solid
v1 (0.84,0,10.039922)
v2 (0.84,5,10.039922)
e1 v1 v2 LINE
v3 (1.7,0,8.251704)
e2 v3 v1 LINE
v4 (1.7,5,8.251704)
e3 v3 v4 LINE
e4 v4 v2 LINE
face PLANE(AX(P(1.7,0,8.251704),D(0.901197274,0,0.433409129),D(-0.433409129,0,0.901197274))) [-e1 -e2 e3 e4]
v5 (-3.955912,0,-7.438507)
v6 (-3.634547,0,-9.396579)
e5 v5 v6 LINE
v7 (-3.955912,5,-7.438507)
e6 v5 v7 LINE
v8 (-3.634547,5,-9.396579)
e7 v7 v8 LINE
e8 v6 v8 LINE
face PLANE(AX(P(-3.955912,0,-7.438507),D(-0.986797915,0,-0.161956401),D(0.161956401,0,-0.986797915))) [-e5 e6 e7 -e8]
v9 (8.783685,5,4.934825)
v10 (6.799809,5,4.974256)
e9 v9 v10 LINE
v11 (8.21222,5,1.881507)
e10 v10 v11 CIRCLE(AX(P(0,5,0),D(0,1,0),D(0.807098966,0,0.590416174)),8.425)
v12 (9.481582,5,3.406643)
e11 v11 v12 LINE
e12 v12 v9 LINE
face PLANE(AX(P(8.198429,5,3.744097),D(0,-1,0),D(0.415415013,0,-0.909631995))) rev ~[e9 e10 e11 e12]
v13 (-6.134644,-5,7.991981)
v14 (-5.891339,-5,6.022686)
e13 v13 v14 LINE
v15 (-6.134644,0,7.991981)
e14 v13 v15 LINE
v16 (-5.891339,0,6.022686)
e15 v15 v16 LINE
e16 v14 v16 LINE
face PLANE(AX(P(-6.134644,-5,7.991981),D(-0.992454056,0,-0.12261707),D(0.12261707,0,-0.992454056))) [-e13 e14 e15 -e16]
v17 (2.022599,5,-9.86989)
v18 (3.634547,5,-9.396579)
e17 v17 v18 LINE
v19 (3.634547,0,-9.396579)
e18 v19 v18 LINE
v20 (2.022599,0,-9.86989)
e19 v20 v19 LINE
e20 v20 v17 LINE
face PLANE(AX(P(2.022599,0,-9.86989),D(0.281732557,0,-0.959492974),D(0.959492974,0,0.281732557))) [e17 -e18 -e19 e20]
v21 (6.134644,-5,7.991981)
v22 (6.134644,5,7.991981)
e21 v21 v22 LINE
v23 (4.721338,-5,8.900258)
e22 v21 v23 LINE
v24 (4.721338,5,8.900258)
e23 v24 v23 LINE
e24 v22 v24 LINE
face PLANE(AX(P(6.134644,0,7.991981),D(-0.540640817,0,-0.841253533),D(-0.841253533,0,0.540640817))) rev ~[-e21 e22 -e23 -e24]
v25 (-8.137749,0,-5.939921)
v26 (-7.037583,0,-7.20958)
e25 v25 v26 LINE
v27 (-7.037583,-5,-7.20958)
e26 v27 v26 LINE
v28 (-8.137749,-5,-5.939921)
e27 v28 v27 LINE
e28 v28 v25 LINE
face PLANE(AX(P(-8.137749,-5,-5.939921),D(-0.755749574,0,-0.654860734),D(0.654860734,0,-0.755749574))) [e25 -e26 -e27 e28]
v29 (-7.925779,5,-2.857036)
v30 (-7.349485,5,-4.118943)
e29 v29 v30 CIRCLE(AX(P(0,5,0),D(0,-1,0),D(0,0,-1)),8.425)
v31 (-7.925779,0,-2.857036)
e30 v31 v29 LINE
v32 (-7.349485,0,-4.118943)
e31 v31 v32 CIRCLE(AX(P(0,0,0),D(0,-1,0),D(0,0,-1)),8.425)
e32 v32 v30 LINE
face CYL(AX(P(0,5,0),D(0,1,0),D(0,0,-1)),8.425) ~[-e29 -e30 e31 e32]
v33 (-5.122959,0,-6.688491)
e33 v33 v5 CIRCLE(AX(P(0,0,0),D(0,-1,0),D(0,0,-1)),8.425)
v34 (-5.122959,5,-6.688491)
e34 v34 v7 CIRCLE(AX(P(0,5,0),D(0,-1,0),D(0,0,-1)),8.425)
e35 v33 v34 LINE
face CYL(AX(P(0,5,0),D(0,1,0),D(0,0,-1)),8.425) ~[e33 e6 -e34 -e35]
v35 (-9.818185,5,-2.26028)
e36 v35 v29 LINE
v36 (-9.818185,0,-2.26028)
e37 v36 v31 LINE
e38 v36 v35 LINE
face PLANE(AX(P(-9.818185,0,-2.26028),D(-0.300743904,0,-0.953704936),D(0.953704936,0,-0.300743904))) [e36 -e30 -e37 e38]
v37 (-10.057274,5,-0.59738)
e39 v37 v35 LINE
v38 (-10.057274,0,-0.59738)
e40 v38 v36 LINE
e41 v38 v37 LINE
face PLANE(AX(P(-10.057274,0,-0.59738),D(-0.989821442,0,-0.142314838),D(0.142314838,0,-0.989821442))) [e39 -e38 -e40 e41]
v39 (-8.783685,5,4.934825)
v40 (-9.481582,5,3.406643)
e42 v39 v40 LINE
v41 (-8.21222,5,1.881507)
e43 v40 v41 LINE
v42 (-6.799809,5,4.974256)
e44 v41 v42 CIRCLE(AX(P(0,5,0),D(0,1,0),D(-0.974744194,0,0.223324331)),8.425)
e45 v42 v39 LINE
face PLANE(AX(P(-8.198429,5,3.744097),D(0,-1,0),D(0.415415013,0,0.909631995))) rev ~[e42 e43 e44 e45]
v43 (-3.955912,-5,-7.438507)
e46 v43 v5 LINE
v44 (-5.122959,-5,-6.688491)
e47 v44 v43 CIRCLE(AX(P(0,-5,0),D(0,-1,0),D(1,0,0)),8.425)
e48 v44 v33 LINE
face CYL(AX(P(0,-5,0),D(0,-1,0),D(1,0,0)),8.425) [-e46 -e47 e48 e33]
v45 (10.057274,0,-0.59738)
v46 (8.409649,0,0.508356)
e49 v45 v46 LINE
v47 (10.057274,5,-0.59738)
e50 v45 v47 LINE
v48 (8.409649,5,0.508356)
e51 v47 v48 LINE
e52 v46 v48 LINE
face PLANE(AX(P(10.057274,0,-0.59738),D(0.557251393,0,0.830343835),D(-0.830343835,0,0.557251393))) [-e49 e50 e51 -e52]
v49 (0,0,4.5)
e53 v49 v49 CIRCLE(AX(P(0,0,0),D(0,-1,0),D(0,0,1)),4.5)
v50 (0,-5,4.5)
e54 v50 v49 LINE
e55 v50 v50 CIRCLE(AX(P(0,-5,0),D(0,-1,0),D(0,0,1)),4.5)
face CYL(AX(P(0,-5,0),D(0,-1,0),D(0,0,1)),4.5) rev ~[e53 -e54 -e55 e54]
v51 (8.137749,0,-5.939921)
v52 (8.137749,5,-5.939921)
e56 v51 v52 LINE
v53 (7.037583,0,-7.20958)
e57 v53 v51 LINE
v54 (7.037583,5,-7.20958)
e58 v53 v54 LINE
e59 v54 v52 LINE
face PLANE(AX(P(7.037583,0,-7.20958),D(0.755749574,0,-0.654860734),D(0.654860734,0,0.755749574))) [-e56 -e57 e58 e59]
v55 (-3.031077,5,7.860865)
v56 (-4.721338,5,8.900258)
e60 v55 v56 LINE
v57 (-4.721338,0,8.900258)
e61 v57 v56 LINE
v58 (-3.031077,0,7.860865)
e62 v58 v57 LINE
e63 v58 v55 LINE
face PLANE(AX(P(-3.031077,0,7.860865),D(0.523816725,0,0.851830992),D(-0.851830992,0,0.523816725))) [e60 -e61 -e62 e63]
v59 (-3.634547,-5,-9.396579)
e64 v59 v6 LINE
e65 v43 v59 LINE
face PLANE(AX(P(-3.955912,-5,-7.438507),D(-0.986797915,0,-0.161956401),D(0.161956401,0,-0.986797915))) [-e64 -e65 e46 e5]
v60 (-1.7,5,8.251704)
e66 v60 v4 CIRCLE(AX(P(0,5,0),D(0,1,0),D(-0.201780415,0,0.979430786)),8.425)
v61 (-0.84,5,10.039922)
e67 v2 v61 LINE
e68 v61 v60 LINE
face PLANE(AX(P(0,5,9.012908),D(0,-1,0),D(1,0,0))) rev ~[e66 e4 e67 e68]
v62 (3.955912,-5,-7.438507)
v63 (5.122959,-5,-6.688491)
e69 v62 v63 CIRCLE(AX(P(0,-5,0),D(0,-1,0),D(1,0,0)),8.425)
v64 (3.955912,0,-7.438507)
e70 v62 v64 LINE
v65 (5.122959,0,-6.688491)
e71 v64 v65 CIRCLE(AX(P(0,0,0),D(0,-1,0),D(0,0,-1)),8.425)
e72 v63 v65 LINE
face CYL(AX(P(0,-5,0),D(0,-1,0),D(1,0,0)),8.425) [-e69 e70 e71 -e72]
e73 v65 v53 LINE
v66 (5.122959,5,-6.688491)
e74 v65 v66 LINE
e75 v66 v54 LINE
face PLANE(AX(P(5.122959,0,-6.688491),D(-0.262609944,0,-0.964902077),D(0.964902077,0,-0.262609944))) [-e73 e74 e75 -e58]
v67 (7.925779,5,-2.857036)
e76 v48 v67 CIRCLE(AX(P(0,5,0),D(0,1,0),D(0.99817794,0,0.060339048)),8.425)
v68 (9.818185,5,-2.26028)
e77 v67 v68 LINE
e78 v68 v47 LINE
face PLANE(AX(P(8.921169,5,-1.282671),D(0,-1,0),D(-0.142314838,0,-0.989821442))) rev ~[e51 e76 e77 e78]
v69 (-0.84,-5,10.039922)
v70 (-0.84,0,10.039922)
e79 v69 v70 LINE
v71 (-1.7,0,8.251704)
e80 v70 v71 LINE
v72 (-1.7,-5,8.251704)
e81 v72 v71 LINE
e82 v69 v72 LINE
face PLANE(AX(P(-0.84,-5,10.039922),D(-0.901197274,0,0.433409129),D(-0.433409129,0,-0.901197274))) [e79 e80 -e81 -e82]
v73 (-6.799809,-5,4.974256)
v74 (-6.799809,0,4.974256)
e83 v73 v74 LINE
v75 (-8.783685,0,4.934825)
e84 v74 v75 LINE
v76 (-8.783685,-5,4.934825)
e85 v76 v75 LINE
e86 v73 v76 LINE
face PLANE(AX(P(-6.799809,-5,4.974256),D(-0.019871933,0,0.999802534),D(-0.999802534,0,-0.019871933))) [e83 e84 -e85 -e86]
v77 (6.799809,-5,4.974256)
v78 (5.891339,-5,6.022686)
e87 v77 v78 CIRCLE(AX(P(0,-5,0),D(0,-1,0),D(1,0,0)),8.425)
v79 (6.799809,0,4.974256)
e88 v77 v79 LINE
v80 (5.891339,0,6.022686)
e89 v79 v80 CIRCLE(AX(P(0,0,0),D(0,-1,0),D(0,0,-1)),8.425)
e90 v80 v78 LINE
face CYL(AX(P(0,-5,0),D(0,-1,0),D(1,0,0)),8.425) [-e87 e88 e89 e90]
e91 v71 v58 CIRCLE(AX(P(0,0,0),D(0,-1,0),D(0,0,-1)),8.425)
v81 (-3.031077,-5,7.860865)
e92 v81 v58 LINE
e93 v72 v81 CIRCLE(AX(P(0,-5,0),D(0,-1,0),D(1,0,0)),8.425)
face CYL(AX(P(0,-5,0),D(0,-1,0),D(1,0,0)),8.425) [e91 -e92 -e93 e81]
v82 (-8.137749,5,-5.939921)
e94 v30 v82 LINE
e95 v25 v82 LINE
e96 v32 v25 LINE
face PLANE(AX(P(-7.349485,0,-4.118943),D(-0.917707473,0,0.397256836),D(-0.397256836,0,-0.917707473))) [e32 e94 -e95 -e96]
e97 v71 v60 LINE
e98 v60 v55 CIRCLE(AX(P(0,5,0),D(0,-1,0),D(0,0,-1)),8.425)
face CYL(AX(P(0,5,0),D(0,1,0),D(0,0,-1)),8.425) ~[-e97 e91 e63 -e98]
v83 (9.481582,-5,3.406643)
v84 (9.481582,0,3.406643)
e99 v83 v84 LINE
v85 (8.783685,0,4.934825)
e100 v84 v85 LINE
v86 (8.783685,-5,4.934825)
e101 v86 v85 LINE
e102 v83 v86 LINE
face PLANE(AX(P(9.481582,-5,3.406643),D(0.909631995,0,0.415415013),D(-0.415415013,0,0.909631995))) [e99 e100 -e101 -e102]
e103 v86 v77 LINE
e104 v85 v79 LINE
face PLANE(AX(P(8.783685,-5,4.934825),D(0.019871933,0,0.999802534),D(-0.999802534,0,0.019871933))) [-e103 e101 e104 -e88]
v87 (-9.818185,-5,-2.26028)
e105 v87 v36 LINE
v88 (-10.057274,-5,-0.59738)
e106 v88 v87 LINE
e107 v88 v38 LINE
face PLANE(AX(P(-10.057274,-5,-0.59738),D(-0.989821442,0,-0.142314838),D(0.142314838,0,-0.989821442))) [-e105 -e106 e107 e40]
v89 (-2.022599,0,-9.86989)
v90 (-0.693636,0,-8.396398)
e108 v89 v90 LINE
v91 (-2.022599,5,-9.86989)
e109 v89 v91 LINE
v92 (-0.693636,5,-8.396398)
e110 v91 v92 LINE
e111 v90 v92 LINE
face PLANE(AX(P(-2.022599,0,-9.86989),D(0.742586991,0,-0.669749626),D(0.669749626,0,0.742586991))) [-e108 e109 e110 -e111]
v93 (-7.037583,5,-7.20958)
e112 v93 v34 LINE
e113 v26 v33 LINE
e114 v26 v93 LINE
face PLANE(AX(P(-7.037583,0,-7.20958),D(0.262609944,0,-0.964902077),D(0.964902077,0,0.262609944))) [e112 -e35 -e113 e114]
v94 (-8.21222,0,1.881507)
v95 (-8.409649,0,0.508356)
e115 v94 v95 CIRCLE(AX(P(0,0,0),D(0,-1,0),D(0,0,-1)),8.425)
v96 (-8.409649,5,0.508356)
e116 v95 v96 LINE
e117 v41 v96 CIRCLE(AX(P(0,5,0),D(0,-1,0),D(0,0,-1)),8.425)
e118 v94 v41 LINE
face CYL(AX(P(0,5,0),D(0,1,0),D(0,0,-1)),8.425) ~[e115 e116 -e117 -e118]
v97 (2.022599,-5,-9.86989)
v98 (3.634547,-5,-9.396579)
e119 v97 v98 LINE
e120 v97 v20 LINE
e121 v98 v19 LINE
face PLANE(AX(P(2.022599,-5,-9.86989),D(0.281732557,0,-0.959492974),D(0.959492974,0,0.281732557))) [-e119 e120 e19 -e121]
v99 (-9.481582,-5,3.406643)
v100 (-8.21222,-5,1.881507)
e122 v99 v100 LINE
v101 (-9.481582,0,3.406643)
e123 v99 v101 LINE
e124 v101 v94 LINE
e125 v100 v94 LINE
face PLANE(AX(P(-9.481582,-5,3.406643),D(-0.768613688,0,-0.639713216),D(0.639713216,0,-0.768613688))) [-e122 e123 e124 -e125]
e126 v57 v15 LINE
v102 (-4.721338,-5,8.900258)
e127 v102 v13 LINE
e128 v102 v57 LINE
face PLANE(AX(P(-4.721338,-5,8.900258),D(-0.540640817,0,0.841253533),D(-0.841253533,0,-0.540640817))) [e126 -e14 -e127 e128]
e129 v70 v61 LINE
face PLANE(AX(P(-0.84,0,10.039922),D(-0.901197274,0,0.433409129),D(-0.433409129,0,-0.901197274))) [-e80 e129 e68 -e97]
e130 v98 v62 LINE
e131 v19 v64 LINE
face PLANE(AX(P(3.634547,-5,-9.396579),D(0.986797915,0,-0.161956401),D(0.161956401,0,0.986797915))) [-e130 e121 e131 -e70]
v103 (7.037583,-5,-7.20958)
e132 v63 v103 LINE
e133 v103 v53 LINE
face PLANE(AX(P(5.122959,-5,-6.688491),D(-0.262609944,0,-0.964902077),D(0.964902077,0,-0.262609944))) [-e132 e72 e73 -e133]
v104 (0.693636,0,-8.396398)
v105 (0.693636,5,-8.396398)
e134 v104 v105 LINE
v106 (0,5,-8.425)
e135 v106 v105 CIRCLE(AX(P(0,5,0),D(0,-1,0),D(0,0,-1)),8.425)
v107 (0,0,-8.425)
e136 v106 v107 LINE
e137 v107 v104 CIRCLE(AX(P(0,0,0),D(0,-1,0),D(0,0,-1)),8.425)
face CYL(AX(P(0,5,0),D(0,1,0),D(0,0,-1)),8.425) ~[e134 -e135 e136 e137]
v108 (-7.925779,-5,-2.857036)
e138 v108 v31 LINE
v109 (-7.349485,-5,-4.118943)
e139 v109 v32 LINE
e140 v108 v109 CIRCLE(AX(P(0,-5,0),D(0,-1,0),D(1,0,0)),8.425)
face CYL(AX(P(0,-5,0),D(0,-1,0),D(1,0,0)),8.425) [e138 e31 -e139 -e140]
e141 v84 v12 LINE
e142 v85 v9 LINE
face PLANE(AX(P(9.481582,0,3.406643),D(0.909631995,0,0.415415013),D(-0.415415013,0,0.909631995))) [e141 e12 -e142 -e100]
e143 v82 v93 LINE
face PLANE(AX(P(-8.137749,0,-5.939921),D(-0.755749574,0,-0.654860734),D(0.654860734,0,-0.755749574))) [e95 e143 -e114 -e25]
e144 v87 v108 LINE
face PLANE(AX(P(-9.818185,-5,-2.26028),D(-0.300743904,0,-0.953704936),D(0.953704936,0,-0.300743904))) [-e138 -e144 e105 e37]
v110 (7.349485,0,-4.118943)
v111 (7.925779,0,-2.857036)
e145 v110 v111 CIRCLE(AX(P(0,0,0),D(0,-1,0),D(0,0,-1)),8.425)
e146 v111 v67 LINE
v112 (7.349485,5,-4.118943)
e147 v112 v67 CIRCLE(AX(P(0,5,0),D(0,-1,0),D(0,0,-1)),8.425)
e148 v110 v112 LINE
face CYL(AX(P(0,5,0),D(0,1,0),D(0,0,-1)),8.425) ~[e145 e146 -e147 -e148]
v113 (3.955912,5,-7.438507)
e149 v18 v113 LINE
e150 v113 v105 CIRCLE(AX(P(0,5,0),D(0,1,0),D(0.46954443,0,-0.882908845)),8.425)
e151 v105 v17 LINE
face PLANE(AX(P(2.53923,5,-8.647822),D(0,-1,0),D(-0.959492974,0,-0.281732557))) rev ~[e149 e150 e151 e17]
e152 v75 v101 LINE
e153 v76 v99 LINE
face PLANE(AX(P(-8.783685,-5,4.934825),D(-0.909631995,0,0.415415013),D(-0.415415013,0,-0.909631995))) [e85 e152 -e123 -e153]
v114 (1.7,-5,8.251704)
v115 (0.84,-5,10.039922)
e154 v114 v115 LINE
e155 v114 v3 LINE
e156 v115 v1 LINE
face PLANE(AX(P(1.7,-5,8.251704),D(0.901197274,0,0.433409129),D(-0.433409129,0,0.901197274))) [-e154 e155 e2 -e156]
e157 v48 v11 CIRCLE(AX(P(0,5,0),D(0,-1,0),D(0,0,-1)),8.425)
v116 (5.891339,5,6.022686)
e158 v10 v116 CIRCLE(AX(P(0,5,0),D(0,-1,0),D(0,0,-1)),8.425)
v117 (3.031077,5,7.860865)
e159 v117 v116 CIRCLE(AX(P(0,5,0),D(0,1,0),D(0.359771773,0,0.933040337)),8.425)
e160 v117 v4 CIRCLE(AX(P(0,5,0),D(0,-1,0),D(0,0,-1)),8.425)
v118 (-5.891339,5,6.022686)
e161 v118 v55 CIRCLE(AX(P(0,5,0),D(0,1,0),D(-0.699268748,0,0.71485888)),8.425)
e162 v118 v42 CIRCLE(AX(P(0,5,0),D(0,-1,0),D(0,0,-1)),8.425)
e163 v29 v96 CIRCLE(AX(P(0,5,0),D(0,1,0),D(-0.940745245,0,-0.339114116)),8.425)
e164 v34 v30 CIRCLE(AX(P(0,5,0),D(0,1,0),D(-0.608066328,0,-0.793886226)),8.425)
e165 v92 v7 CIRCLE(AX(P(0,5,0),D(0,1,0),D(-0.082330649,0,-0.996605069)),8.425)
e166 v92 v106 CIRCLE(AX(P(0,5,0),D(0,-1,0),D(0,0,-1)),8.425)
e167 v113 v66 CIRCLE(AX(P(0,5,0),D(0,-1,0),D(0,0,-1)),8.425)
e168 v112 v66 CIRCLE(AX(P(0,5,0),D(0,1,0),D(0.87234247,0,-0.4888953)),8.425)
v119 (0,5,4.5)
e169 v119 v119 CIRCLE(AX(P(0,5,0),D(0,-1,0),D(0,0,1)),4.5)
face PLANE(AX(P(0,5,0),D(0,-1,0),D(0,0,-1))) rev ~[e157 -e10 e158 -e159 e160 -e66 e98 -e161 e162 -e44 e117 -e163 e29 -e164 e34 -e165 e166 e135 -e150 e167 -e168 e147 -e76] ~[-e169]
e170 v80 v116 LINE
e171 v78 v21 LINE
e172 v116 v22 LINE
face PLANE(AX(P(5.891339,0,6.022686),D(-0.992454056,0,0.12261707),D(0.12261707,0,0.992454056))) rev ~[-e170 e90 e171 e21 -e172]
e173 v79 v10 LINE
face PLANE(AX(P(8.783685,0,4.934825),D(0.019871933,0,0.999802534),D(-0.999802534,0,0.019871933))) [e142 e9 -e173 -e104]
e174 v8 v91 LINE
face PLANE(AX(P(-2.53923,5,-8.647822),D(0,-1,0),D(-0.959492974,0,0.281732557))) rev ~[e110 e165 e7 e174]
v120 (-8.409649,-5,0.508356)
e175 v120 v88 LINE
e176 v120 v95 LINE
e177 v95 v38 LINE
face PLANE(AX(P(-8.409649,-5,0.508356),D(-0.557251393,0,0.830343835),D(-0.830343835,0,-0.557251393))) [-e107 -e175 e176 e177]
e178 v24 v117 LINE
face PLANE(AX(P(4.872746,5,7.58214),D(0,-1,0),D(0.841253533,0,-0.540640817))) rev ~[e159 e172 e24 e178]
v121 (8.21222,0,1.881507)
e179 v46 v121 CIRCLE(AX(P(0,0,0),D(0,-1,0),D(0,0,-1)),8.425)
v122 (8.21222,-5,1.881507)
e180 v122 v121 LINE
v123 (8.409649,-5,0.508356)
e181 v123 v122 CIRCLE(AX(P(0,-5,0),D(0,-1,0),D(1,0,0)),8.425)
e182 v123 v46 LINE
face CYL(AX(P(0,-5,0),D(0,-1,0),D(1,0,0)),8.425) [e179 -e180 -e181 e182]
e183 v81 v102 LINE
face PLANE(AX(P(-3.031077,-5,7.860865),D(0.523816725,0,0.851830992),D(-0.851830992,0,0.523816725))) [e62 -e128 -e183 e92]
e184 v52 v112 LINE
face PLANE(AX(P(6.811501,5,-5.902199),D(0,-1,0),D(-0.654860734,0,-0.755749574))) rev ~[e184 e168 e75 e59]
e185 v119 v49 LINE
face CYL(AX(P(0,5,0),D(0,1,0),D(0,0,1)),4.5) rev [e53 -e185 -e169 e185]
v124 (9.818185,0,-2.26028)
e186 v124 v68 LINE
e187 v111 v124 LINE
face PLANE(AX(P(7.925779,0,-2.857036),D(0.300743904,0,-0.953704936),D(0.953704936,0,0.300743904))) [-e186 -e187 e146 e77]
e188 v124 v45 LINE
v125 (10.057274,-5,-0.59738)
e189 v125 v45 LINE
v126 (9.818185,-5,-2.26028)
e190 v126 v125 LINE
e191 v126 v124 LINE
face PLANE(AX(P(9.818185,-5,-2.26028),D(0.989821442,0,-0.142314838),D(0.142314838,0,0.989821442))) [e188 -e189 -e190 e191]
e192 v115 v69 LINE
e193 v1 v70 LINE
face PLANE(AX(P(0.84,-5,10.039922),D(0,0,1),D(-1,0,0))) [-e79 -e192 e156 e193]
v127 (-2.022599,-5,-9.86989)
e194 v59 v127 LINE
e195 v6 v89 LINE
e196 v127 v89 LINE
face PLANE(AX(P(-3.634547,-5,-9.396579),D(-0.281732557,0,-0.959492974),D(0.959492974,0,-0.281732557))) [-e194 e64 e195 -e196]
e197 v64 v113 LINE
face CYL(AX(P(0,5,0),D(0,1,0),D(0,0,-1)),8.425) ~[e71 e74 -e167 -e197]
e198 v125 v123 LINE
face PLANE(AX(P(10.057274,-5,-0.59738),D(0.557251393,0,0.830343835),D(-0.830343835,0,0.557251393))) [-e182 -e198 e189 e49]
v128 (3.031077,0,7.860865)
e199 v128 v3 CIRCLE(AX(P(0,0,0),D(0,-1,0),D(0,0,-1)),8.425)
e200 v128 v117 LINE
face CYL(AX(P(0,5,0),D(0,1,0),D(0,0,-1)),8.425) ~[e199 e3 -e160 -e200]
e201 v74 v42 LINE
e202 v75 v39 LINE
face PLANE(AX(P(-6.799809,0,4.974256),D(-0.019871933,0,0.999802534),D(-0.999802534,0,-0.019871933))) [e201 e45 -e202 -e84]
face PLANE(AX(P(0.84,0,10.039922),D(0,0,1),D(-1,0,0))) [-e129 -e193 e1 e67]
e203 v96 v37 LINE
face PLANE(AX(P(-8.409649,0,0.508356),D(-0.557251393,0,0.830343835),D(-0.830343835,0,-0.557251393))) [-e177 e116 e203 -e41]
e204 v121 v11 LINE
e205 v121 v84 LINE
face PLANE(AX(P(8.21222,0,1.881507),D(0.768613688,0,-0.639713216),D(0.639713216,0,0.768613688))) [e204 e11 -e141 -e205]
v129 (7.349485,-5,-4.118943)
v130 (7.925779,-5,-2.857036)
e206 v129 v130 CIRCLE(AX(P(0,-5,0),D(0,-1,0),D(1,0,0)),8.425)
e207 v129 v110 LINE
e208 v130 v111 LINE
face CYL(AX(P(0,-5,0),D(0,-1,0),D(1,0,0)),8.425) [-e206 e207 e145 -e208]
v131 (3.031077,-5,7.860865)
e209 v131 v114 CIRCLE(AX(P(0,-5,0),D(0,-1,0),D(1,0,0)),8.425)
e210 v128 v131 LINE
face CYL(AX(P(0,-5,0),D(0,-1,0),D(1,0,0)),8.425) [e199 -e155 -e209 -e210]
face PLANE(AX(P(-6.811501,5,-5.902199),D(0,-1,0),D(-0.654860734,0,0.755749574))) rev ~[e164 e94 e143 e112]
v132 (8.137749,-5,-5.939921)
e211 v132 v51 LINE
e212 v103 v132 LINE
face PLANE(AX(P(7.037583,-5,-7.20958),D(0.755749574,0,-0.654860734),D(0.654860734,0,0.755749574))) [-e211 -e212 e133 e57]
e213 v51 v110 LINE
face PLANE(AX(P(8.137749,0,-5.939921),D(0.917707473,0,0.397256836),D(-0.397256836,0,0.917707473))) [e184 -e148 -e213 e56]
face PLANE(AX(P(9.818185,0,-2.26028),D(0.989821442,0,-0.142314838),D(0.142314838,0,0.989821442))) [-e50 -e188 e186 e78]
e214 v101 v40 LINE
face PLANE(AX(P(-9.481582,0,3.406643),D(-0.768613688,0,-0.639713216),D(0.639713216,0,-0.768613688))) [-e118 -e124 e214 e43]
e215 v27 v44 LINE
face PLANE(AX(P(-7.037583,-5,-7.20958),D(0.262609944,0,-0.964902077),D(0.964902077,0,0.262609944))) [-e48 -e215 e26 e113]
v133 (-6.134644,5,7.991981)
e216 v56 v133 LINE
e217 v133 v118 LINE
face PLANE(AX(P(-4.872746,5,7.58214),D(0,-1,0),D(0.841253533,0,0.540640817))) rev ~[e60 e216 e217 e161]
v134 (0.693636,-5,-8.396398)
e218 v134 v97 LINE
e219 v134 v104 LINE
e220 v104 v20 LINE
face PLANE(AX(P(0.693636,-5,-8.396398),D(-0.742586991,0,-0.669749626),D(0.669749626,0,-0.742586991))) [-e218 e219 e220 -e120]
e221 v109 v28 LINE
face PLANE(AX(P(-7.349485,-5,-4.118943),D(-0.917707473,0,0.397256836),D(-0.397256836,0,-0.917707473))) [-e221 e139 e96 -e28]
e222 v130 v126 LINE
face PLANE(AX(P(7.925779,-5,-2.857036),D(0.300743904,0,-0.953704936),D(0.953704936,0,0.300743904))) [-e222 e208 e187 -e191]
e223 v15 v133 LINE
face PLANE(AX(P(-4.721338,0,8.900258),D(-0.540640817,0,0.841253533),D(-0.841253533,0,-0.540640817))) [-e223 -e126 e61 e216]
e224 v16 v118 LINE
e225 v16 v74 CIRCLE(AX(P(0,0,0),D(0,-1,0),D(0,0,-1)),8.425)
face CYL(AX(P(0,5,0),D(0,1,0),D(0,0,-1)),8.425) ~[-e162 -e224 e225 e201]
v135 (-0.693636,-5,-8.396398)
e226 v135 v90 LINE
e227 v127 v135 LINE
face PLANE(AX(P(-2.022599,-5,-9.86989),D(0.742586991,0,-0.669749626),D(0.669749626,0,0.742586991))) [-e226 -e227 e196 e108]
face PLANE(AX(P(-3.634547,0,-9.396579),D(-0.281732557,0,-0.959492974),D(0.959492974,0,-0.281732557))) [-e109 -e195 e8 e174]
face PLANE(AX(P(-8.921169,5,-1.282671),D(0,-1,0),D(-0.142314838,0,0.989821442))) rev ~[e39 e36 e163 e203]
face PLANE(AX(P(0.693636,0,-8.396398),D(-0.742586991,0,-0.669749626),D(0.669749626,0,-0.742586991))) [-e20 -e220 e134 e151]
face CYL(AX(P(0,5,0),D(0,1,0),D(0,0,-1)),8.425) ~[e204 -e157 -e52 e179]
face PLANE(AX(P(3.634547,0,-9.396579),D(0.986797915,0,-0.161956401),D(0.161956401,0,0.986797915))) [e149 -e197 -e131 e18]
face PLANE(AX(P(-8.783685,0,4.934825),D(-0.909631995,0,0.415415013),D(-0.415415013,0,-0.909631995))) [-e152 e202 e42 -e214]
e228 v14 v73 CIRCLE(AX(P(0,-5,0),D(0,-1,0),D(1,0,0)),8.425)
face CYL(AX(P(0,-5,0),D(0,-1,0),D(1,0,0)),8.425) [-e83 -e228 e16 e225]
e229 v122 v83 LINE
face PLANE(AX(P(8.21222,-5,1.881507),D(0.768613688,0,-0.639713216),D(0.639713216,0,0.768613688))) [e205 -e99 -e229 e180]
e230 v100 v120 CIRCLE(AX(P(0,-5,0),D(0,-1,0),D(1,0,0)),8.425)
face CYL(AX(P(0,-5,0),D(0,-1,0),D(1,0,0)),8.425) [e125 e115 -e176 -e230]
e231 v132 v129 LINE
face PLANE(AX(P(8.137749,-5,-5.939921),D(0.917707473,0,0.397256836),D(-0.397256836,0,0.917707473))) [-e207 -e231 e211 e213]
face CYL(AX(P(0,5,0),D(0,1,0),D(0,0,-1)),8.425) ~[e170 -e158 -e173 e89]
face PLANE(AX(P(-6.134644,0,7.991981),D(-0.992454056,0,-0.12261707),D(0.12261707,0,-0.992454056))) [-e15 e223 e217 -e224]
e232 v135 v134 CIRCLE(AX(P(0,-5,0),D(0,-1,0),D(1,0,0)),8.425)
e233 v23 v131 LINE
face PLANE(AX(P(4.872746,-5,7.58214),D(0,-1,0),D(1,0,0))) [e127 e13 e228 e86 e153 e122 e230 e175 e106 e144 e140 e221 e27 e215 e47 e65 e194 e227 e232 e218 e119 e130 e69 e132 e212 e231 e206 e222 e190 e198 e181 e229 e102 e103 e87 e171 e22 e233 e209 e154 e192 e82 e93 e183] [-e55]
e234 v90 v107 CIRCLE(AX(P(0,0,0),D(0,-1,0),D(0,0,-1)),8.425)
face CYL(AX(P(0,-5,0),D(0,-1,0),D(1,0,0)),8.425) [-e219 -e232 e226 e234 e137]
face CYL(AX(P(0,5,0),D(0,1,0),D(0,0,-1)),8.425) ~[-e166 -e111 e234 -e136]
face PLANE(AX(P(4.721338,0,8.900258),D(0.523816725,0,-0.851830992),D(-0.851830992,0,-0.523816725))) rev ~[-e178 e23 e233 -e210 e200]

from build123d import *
from build123d.topology import SkipClean

# Parameters (mm, degrees)
SKETCH1_R            = 4.5
BOSS_EXTRUDE1_DEPTH  = 4.999999999999969
SKETCH12_R           = 8.425
SKETCH12_R_2         = 4.5
BOSS_EXTRUDE6_DEPTH  = 5
BOSS_EXTRUDE9_DEPTH  = 5
CIRPATTERN2_COUNT    = 11
BOSS_EXTRUDE10_START = 5
SKETCH17_R           = 8.425
SKETCH17_R_2         = 4.5
BOSS_EXTRUDE10_DEPTH = 5
BOSS_EXTRUDE11_DEPTH = 5
SKETCH19_R           = 4.5
CUT_EXTRUDE1_DEPTH   = 10


with BuildPart() as part:
    # Sketch1 → Boss-Extrude1 (new body)
    with BuildSketch(Plane(origin=(0, 0, 0), x_dir=(1, 0, 0), z_dir=(0, 1, 0))):
        with Locations(Location((0, 0, 0), (0, 0, 270))):
            Circle(SKETCH1_R)
    extrude(amount=BOSS_EXTRUDE1_DEPTH)

    # Sketch19 → Cut-Extrude1 (cut)
    with BuildSketch(Plane.XZ):
        with Locations(Location((0, 0, 0), (0, 0, 270))):
            Circle(SKETCH19_R)
    extrude(amount=-CUT_EXTRUDE1_DEPTH, mode=Mode.SUBTRACT)


with BuildPart() as body_2:
    # Sketch12 → Boss-Extrude6 (new body)
    with BuildSketch(Plane(origin=(0, 5, 0), x_dir=(-1, 0, 0), z_dir=(0, -1, 0))):
        with Locations(Location((0, 0, 0), (0, 0, 90))):
            Circle(SKETCH12_R)
        with Locations(Location((0, 0, 0), (0, 0, 270))):
            Circle(SKETCH12_R_2, mode=Mode.SUBTRACT)
    extrude(amount=BOSS_EXTRUDE6_DEPTH)



with BuildPart() as body_3:
    # Sketch13 → Boss-Extrude9 (new body)
    with BuildSketch(Plane.XZ):
        with BuildLine():
            Line((1.700000000000002, 8.251704369401512), (0.84, 10.039921563438629))
            Line((0.84, 10.039921563438629), (-0.84, 10.039921563438629))
            Line((-0.84, 10.039921563438629), (-1.6999999999999977, 8.251704369401512))
            ThreePointArc((-1.6999999999999977, 8.251704369401514), (2.39e-15, 8.425), (1.7000000000000024, 8.251704369401512))
        make_face()
    extrude(amount=-BOSS_EXTRUDE9_DEPTH)


with BuildPart() as cirpattern2_1:
    # CirPattern2: pattern copy
    add(body_3.part.rotate(Axis((-9e-17, 0, -3.9e-16), (0, 1, 0)), 1 * 360 / CIRPATTERN2_COUNT))


with BuildPart() as cirpattern2_2:
    # CirPattern2: pattern copy
    add(body_3.part.rotate(Axis((-9e-17, 0, -3.9e-16), (0, 1, 0)), 2 * 360 / CIRPATTERN2_COUNT))


with BuildPart() as cirpattern2_3:
    # CirPattern2: pattern copy
    add(body_3.part.rotate(Axis((-9e-17, 0, -3.9e-16), (0, 1, 0)), 3 * 360 / CIRPATTERN2_COUNT))


with BuildPart() as cirpattern2_4:
    # CirPattern2: pattern copy
    add(body_3.part.rotate(Axis((-9e-17, 0, -3.9e-16), (0, 1, 0)), 4 * 360 / CIRPATTERN2_COUNT))


with BuildPart() as cirpattern2_5:
    # CirPattern2: pattern copy
    add(body_3.part.rotate(Axis((-9e-17, 0, -3.9e-16), (0, 1, 0)), 5 * 360 / CIRPATTERN2_COUNT))


with BuildPart() as cirpattern2_6:
    # CirPattern2: pattern copy
    add(body_3.part.rotate(Axis((-9e-17, 0, -3.9e-16), (0, 1, 0)), 6 * 360 / CIRPATTERN2_COUNT))


with BuildPart() as cirpattern2_7:
    # CirPattern2: pattern copy
    add(body_3.part.rotate(Axis((-9e-17, 0, -3.9e-16), (0, 1, 0)), 7 * 360 / CIRPATTERN2_COUNT))


with BuildPart() as cirpattern2_8:
    # CirPattern2: pattern copy
    add(body_3.part.rotate(Axis((-9e-17, 0, -3.9e-16), (0, 1, 0)), 8 * 360 / CIRPATTERN2_COUNT))


with BuildPart() as cirpattern2_9:
    # CirPattern2: pattern copy
    add(body_3.part.rotate(Axis((-9e-17, 0, -3.9e-16), (0, 1, 0)), 9 * 360 / CIRPATTERN2_COUNT))


with BuildPart() as cirpattern2_10:
    # CirPattern2: pattern copy
    add(body_3.part.rotate(Axis((-9e-17, 0, -3.9e-16), (0, 1, 0)), 10 * 360 / CIRPATTERN2_COUNT))


with BuildPart() as body_2_1:
    with SkipClean():  # the faces are left unmerged after this step: merging them gives an invalid solid
        add(body_2.part)

        add(body_3.part)  # Boss-Extrude10 merges body 3

        add(cirpattern2_2.part)  # Boss-Extrude10 merges CirPattern2_2

        add(cirpattern2_3.part)  # Boss-Extrude10 merges CirPattern2_3

        add(cirpattern2_4.part)  # Boss-Extrude10 merges CirPattern2_4

        add(cirpattern2_5.part)  # Boss-Extrude10 merges CirPattern2_5

        add(cirpattern2_6.part)  # Boss-Extrude10 merges CirPattern2_6

        add(cirpattern2_7.part)  # Boss-Extrude10 merges CirPattern2_7

        add(cirpattern2_8.part)  # Boss-Extrude10 merges CirPattern2_8

        add(cirpattern2_9.part)  # Boss-Extrude10 merges CirPattern2_9

        add(cirpattern2_10.part)  # Boss-Extrude10 merges CirPattern2_10
        # Sketch17 → Boss-Extrude10 (add)
        # profile 1 of 11: a face of its own
        with BuildSketch(Plane.XZ.offset(BOSS_EXTRUDE10_START)):
            Circle(SKETCH17_R)
            with Locations(Location((0, 0, 0), (0, 0, 90))):
                Circle(SKETCH17_R_2, mode=Mode.SUBTRACT)
        # profile 2 of 11: a face of its own
        with BuildSketch(Plane.XZ.offset(BOSS_EXTRUDE10_START)):
            with BuildLine():
                ThreePointArc((-1.6999999999999988, 8.251704369401518), (2.05e-15, 8.425000000000002), (1.7000000000000028, 8.251704369401514))
                Line((1.7000000000000024, 8.251704369401512), (0.8400000000000013, 10.039921563438629))
                Line((0.8400000000000013, 10.039921563438629), (-0.8400000000000009, 10.039921563438629))
                Line((-0.8400000000000009, 10.039921563438629), (-1.6999999999999984, 8.251704369401514))
            make_face()
        # profile 3 of 11: a face of its own
        with BuildSketch(Plane.XZ.offset(BOSS_EXTRUDE10_START)):
            with BuildLine():
                ThreePointArc((-5.891339201488175, 6.022686062962995), (-4.554898887063417, 7.087561014102698), (-3.0310771898621596, 7.860864842312031))
                Line((-3.03107718986216, 7.860864842312031), (-4.72133843366936, 8.9002577712534))
                Line((-4.72133843366936, 8.9002577712534), (-6.134644368825746, 7.991981197927994))
                Line((-6.134644368825746, 7.991981197927994), (-5.891339201488176, 6.022686062962995))
            make_face()
        # profile 4 of 11: a face of its own
        with BuildSketch(Plane.XZ.offset(BOSS_EXTRUDE10_START)):
            with BuildLine():
                Line((-9.481582495875129, 3.4066432707159575), (-8.212219832717508, 1.8815074857999516))
                ThreePointArc((-8.21221983271751, 1.8815074857999512), (-7.663649560861826, 3.4998714845408747), (-6.7998087885111005, 4.974256270005318))
                Line((-6.7998087885111, 4.974256270005317), (-8.783685274031965, 4.934825022911553))
                Line((-8.783685274031965, 4.934825022911553), (-9.481582495875129, 3.4066432707159575))
            make_face()
        # profile 5 of 11: a face of its own
        with BuildSketch(Plane.XZ.offset(BOSS_EXTRUDE10_START)):
            with BuildLine():
                Line((-9.818185174144725, -2.260279824757259), (-7.925778691831604, -2.8570364240079513))
                ThreePointArc((-7.925778691831604, -2.857036424007951), (-8.339245647846854, -1.1990025124524568), (-8.409649141960784, 0.5083564783872193))
                Line((-8.409649141960784, 0.5083564783872193), (-10.057274102443852, -0.5973798023972904))
                Line((-10.057274102443852, -0.5973798023972905), (-9.818185174144725, -2.260279824757259))
            make_face()
        # profile 6 of 11: a face of its own
        with BuildSketch(Plane.XZ.offset(BOSS_EXTRUDE10_START)):
            with BuildLine():
                Line((-7.037583431604806, -7.20958004624413), (-5.1229588171653475, -6.688491456048056))
                ThreePointArc((-5.1229588171653475, -6.688491456048055), (-6.367190163934598, -5.517201683489059), (-7.349485312579329, -4.118942903243587))
                Line((-7.34948531257933, -4.118942903243588), (-8.137749464632893, -5.93992076132898))
                Line((-8.137749464632893, -5.93992076132898), (-7.037583431604806, -7.20958004624413))
            make_face()
        # profile 7 of 11: a face of its own
        with BuildSketch(Plane.XZ.offset(BOSS_EXTRUDE10_START)):
            with BuildLine():
                Line((-2.022598674718725, -9.869889543506861), (-0.6936357151463852, -8.396397709415234))
                ThreePointArc((-0.6936357151463853, -8.396397709415236), (-2.3735967913889944, -8.08372830270216), (-3.955911825435684, -7.4385070161543965))
                Line((-3.9559118254356838, -7.438507016154395), (-3.634546870391086, -9.39657884801327))
                Line((-3.634546870391086, -9.39657884801327), (-2.022598674718725, -9.869889543506861))
            make_face()
        # profile 8 of 11: a face of its own
        with BuildSketch(Plane.XZ.offset(BOSS_EXTRUDE10_START)):
            with BuildLine():
                Line((3.6345468703912207, -9.396578848013215), (3.955911825435787, -7.438507016154339))
                ThreePointArc((3.955911825435787, -7.438507016154339), (2.3735967913891054, -8.083728302702124), (0.6936357151465026, -8.396397709415222))
                Line((0.6936357151465024, -8.396397709415224), (2.022598674718867, -9.86988954350683))
                Line((2.022598674718867, -9.86988954350683), (3.6345468703912207, -9.396578848013215))
            make_face()
        # profile 9 of 11: a face of its own
        with BuildSketch(Plane.XZ.offset(BOSS_EXTRUDE10_START)):
            with BuildLine():
                Line((5.122958817165441, -6.688491456047983), (7.037583431604909, -7.209580046244029))
                Line((7.037583431604909, -7.209580046244029), (8.137749464632977, -5.939920761328863))
                Line((8.137749464632977, -5.939920761328863), (7.349485312579388, -4.118942903243486))
                ThreePointArc((7.349485312579388, -4.118942903243488), (6.367190163934675, -5.51720168348897), (5.122958817165442, -6.6884914560479825))
            make_face()
        # profile 10 of 11: a face of its own
        with BuildSketch(Plane.XZ.offset(BOSS_EXTRUDE10_START)):
            with BuildLine():
                ThreePointArc((8.425, 5e-16), (8.299256306401244, -1.4501619773870813), (7.925778691831642, -2.8570364240078403))
                Line((7.925778691831642, -2.8570364240078403), (9.818185174144755, -2.260279824757118))
                Line((9.818185174144755, -2.260279824757118), (10.05727410244386, -0.5973798023971462))
                Line((10.05727410244386, -0.597379802397146), (8.409649141960777, 0.5083564783873361))
                ThreePointArc((8.409649141960777, 0.508356478387336), (8.42116141102341, 0.25429410038423766), (8.425, 5e-16))
            make_face()
        # profile 11 of 11: a face of its own
        with BuildSketch(Plane.XZ.offset(BOSS_EXTRUDE10_START)):
            with BuildLine():
                ThreePointArc((6.79980878851103, 4.974256270005415), (7.663649560861776, 3.499871484540982), (8.21221983271748, 1.8815074858000667))
                Line((8.21221983271748, 1.8815074858000667), (9.481582495875081, 3.4066432707160943))
                Line((9.481582495875081, 3.4066432707160943), (8.783685274031892, 4.934825022911679))
                Line((8.783685274031892, 4.934825022911679), (6.799808788511031, 4.974256270005414))
            make_face()
        extrude(amount=-BOSS_EXTRUDE10_DEPTH)


    add(cirpattern2_1.part)  # Boss-Extrude11 merges CirPattern2_1
    # Sketch18 → Boss-Extrude11 (add)
    with BuildSketch(Plane.XZ):
        with BuildLine():
            Line((6.1346443688256285, 7.991981197928084), (4.721338433669231, 8.900257771253472))
            Line((4.721338433669231, 8.900257771253472), (3.031077189862048, 7.860864842312075))
            ThreePointArc((3.031077189862048, 7.860864842312075), (4.554898887063315, 7.087561014102763), (5.891339201488088, 6.022686062963079))
            Line((5.891339201488088, 6.022686062963079), (6.1346443688256285, 7.991981197928084))
        make_face()
    extrude(amount=BOSS_EXTRUDE11_DEPTH)


solid = body_2_1.part
